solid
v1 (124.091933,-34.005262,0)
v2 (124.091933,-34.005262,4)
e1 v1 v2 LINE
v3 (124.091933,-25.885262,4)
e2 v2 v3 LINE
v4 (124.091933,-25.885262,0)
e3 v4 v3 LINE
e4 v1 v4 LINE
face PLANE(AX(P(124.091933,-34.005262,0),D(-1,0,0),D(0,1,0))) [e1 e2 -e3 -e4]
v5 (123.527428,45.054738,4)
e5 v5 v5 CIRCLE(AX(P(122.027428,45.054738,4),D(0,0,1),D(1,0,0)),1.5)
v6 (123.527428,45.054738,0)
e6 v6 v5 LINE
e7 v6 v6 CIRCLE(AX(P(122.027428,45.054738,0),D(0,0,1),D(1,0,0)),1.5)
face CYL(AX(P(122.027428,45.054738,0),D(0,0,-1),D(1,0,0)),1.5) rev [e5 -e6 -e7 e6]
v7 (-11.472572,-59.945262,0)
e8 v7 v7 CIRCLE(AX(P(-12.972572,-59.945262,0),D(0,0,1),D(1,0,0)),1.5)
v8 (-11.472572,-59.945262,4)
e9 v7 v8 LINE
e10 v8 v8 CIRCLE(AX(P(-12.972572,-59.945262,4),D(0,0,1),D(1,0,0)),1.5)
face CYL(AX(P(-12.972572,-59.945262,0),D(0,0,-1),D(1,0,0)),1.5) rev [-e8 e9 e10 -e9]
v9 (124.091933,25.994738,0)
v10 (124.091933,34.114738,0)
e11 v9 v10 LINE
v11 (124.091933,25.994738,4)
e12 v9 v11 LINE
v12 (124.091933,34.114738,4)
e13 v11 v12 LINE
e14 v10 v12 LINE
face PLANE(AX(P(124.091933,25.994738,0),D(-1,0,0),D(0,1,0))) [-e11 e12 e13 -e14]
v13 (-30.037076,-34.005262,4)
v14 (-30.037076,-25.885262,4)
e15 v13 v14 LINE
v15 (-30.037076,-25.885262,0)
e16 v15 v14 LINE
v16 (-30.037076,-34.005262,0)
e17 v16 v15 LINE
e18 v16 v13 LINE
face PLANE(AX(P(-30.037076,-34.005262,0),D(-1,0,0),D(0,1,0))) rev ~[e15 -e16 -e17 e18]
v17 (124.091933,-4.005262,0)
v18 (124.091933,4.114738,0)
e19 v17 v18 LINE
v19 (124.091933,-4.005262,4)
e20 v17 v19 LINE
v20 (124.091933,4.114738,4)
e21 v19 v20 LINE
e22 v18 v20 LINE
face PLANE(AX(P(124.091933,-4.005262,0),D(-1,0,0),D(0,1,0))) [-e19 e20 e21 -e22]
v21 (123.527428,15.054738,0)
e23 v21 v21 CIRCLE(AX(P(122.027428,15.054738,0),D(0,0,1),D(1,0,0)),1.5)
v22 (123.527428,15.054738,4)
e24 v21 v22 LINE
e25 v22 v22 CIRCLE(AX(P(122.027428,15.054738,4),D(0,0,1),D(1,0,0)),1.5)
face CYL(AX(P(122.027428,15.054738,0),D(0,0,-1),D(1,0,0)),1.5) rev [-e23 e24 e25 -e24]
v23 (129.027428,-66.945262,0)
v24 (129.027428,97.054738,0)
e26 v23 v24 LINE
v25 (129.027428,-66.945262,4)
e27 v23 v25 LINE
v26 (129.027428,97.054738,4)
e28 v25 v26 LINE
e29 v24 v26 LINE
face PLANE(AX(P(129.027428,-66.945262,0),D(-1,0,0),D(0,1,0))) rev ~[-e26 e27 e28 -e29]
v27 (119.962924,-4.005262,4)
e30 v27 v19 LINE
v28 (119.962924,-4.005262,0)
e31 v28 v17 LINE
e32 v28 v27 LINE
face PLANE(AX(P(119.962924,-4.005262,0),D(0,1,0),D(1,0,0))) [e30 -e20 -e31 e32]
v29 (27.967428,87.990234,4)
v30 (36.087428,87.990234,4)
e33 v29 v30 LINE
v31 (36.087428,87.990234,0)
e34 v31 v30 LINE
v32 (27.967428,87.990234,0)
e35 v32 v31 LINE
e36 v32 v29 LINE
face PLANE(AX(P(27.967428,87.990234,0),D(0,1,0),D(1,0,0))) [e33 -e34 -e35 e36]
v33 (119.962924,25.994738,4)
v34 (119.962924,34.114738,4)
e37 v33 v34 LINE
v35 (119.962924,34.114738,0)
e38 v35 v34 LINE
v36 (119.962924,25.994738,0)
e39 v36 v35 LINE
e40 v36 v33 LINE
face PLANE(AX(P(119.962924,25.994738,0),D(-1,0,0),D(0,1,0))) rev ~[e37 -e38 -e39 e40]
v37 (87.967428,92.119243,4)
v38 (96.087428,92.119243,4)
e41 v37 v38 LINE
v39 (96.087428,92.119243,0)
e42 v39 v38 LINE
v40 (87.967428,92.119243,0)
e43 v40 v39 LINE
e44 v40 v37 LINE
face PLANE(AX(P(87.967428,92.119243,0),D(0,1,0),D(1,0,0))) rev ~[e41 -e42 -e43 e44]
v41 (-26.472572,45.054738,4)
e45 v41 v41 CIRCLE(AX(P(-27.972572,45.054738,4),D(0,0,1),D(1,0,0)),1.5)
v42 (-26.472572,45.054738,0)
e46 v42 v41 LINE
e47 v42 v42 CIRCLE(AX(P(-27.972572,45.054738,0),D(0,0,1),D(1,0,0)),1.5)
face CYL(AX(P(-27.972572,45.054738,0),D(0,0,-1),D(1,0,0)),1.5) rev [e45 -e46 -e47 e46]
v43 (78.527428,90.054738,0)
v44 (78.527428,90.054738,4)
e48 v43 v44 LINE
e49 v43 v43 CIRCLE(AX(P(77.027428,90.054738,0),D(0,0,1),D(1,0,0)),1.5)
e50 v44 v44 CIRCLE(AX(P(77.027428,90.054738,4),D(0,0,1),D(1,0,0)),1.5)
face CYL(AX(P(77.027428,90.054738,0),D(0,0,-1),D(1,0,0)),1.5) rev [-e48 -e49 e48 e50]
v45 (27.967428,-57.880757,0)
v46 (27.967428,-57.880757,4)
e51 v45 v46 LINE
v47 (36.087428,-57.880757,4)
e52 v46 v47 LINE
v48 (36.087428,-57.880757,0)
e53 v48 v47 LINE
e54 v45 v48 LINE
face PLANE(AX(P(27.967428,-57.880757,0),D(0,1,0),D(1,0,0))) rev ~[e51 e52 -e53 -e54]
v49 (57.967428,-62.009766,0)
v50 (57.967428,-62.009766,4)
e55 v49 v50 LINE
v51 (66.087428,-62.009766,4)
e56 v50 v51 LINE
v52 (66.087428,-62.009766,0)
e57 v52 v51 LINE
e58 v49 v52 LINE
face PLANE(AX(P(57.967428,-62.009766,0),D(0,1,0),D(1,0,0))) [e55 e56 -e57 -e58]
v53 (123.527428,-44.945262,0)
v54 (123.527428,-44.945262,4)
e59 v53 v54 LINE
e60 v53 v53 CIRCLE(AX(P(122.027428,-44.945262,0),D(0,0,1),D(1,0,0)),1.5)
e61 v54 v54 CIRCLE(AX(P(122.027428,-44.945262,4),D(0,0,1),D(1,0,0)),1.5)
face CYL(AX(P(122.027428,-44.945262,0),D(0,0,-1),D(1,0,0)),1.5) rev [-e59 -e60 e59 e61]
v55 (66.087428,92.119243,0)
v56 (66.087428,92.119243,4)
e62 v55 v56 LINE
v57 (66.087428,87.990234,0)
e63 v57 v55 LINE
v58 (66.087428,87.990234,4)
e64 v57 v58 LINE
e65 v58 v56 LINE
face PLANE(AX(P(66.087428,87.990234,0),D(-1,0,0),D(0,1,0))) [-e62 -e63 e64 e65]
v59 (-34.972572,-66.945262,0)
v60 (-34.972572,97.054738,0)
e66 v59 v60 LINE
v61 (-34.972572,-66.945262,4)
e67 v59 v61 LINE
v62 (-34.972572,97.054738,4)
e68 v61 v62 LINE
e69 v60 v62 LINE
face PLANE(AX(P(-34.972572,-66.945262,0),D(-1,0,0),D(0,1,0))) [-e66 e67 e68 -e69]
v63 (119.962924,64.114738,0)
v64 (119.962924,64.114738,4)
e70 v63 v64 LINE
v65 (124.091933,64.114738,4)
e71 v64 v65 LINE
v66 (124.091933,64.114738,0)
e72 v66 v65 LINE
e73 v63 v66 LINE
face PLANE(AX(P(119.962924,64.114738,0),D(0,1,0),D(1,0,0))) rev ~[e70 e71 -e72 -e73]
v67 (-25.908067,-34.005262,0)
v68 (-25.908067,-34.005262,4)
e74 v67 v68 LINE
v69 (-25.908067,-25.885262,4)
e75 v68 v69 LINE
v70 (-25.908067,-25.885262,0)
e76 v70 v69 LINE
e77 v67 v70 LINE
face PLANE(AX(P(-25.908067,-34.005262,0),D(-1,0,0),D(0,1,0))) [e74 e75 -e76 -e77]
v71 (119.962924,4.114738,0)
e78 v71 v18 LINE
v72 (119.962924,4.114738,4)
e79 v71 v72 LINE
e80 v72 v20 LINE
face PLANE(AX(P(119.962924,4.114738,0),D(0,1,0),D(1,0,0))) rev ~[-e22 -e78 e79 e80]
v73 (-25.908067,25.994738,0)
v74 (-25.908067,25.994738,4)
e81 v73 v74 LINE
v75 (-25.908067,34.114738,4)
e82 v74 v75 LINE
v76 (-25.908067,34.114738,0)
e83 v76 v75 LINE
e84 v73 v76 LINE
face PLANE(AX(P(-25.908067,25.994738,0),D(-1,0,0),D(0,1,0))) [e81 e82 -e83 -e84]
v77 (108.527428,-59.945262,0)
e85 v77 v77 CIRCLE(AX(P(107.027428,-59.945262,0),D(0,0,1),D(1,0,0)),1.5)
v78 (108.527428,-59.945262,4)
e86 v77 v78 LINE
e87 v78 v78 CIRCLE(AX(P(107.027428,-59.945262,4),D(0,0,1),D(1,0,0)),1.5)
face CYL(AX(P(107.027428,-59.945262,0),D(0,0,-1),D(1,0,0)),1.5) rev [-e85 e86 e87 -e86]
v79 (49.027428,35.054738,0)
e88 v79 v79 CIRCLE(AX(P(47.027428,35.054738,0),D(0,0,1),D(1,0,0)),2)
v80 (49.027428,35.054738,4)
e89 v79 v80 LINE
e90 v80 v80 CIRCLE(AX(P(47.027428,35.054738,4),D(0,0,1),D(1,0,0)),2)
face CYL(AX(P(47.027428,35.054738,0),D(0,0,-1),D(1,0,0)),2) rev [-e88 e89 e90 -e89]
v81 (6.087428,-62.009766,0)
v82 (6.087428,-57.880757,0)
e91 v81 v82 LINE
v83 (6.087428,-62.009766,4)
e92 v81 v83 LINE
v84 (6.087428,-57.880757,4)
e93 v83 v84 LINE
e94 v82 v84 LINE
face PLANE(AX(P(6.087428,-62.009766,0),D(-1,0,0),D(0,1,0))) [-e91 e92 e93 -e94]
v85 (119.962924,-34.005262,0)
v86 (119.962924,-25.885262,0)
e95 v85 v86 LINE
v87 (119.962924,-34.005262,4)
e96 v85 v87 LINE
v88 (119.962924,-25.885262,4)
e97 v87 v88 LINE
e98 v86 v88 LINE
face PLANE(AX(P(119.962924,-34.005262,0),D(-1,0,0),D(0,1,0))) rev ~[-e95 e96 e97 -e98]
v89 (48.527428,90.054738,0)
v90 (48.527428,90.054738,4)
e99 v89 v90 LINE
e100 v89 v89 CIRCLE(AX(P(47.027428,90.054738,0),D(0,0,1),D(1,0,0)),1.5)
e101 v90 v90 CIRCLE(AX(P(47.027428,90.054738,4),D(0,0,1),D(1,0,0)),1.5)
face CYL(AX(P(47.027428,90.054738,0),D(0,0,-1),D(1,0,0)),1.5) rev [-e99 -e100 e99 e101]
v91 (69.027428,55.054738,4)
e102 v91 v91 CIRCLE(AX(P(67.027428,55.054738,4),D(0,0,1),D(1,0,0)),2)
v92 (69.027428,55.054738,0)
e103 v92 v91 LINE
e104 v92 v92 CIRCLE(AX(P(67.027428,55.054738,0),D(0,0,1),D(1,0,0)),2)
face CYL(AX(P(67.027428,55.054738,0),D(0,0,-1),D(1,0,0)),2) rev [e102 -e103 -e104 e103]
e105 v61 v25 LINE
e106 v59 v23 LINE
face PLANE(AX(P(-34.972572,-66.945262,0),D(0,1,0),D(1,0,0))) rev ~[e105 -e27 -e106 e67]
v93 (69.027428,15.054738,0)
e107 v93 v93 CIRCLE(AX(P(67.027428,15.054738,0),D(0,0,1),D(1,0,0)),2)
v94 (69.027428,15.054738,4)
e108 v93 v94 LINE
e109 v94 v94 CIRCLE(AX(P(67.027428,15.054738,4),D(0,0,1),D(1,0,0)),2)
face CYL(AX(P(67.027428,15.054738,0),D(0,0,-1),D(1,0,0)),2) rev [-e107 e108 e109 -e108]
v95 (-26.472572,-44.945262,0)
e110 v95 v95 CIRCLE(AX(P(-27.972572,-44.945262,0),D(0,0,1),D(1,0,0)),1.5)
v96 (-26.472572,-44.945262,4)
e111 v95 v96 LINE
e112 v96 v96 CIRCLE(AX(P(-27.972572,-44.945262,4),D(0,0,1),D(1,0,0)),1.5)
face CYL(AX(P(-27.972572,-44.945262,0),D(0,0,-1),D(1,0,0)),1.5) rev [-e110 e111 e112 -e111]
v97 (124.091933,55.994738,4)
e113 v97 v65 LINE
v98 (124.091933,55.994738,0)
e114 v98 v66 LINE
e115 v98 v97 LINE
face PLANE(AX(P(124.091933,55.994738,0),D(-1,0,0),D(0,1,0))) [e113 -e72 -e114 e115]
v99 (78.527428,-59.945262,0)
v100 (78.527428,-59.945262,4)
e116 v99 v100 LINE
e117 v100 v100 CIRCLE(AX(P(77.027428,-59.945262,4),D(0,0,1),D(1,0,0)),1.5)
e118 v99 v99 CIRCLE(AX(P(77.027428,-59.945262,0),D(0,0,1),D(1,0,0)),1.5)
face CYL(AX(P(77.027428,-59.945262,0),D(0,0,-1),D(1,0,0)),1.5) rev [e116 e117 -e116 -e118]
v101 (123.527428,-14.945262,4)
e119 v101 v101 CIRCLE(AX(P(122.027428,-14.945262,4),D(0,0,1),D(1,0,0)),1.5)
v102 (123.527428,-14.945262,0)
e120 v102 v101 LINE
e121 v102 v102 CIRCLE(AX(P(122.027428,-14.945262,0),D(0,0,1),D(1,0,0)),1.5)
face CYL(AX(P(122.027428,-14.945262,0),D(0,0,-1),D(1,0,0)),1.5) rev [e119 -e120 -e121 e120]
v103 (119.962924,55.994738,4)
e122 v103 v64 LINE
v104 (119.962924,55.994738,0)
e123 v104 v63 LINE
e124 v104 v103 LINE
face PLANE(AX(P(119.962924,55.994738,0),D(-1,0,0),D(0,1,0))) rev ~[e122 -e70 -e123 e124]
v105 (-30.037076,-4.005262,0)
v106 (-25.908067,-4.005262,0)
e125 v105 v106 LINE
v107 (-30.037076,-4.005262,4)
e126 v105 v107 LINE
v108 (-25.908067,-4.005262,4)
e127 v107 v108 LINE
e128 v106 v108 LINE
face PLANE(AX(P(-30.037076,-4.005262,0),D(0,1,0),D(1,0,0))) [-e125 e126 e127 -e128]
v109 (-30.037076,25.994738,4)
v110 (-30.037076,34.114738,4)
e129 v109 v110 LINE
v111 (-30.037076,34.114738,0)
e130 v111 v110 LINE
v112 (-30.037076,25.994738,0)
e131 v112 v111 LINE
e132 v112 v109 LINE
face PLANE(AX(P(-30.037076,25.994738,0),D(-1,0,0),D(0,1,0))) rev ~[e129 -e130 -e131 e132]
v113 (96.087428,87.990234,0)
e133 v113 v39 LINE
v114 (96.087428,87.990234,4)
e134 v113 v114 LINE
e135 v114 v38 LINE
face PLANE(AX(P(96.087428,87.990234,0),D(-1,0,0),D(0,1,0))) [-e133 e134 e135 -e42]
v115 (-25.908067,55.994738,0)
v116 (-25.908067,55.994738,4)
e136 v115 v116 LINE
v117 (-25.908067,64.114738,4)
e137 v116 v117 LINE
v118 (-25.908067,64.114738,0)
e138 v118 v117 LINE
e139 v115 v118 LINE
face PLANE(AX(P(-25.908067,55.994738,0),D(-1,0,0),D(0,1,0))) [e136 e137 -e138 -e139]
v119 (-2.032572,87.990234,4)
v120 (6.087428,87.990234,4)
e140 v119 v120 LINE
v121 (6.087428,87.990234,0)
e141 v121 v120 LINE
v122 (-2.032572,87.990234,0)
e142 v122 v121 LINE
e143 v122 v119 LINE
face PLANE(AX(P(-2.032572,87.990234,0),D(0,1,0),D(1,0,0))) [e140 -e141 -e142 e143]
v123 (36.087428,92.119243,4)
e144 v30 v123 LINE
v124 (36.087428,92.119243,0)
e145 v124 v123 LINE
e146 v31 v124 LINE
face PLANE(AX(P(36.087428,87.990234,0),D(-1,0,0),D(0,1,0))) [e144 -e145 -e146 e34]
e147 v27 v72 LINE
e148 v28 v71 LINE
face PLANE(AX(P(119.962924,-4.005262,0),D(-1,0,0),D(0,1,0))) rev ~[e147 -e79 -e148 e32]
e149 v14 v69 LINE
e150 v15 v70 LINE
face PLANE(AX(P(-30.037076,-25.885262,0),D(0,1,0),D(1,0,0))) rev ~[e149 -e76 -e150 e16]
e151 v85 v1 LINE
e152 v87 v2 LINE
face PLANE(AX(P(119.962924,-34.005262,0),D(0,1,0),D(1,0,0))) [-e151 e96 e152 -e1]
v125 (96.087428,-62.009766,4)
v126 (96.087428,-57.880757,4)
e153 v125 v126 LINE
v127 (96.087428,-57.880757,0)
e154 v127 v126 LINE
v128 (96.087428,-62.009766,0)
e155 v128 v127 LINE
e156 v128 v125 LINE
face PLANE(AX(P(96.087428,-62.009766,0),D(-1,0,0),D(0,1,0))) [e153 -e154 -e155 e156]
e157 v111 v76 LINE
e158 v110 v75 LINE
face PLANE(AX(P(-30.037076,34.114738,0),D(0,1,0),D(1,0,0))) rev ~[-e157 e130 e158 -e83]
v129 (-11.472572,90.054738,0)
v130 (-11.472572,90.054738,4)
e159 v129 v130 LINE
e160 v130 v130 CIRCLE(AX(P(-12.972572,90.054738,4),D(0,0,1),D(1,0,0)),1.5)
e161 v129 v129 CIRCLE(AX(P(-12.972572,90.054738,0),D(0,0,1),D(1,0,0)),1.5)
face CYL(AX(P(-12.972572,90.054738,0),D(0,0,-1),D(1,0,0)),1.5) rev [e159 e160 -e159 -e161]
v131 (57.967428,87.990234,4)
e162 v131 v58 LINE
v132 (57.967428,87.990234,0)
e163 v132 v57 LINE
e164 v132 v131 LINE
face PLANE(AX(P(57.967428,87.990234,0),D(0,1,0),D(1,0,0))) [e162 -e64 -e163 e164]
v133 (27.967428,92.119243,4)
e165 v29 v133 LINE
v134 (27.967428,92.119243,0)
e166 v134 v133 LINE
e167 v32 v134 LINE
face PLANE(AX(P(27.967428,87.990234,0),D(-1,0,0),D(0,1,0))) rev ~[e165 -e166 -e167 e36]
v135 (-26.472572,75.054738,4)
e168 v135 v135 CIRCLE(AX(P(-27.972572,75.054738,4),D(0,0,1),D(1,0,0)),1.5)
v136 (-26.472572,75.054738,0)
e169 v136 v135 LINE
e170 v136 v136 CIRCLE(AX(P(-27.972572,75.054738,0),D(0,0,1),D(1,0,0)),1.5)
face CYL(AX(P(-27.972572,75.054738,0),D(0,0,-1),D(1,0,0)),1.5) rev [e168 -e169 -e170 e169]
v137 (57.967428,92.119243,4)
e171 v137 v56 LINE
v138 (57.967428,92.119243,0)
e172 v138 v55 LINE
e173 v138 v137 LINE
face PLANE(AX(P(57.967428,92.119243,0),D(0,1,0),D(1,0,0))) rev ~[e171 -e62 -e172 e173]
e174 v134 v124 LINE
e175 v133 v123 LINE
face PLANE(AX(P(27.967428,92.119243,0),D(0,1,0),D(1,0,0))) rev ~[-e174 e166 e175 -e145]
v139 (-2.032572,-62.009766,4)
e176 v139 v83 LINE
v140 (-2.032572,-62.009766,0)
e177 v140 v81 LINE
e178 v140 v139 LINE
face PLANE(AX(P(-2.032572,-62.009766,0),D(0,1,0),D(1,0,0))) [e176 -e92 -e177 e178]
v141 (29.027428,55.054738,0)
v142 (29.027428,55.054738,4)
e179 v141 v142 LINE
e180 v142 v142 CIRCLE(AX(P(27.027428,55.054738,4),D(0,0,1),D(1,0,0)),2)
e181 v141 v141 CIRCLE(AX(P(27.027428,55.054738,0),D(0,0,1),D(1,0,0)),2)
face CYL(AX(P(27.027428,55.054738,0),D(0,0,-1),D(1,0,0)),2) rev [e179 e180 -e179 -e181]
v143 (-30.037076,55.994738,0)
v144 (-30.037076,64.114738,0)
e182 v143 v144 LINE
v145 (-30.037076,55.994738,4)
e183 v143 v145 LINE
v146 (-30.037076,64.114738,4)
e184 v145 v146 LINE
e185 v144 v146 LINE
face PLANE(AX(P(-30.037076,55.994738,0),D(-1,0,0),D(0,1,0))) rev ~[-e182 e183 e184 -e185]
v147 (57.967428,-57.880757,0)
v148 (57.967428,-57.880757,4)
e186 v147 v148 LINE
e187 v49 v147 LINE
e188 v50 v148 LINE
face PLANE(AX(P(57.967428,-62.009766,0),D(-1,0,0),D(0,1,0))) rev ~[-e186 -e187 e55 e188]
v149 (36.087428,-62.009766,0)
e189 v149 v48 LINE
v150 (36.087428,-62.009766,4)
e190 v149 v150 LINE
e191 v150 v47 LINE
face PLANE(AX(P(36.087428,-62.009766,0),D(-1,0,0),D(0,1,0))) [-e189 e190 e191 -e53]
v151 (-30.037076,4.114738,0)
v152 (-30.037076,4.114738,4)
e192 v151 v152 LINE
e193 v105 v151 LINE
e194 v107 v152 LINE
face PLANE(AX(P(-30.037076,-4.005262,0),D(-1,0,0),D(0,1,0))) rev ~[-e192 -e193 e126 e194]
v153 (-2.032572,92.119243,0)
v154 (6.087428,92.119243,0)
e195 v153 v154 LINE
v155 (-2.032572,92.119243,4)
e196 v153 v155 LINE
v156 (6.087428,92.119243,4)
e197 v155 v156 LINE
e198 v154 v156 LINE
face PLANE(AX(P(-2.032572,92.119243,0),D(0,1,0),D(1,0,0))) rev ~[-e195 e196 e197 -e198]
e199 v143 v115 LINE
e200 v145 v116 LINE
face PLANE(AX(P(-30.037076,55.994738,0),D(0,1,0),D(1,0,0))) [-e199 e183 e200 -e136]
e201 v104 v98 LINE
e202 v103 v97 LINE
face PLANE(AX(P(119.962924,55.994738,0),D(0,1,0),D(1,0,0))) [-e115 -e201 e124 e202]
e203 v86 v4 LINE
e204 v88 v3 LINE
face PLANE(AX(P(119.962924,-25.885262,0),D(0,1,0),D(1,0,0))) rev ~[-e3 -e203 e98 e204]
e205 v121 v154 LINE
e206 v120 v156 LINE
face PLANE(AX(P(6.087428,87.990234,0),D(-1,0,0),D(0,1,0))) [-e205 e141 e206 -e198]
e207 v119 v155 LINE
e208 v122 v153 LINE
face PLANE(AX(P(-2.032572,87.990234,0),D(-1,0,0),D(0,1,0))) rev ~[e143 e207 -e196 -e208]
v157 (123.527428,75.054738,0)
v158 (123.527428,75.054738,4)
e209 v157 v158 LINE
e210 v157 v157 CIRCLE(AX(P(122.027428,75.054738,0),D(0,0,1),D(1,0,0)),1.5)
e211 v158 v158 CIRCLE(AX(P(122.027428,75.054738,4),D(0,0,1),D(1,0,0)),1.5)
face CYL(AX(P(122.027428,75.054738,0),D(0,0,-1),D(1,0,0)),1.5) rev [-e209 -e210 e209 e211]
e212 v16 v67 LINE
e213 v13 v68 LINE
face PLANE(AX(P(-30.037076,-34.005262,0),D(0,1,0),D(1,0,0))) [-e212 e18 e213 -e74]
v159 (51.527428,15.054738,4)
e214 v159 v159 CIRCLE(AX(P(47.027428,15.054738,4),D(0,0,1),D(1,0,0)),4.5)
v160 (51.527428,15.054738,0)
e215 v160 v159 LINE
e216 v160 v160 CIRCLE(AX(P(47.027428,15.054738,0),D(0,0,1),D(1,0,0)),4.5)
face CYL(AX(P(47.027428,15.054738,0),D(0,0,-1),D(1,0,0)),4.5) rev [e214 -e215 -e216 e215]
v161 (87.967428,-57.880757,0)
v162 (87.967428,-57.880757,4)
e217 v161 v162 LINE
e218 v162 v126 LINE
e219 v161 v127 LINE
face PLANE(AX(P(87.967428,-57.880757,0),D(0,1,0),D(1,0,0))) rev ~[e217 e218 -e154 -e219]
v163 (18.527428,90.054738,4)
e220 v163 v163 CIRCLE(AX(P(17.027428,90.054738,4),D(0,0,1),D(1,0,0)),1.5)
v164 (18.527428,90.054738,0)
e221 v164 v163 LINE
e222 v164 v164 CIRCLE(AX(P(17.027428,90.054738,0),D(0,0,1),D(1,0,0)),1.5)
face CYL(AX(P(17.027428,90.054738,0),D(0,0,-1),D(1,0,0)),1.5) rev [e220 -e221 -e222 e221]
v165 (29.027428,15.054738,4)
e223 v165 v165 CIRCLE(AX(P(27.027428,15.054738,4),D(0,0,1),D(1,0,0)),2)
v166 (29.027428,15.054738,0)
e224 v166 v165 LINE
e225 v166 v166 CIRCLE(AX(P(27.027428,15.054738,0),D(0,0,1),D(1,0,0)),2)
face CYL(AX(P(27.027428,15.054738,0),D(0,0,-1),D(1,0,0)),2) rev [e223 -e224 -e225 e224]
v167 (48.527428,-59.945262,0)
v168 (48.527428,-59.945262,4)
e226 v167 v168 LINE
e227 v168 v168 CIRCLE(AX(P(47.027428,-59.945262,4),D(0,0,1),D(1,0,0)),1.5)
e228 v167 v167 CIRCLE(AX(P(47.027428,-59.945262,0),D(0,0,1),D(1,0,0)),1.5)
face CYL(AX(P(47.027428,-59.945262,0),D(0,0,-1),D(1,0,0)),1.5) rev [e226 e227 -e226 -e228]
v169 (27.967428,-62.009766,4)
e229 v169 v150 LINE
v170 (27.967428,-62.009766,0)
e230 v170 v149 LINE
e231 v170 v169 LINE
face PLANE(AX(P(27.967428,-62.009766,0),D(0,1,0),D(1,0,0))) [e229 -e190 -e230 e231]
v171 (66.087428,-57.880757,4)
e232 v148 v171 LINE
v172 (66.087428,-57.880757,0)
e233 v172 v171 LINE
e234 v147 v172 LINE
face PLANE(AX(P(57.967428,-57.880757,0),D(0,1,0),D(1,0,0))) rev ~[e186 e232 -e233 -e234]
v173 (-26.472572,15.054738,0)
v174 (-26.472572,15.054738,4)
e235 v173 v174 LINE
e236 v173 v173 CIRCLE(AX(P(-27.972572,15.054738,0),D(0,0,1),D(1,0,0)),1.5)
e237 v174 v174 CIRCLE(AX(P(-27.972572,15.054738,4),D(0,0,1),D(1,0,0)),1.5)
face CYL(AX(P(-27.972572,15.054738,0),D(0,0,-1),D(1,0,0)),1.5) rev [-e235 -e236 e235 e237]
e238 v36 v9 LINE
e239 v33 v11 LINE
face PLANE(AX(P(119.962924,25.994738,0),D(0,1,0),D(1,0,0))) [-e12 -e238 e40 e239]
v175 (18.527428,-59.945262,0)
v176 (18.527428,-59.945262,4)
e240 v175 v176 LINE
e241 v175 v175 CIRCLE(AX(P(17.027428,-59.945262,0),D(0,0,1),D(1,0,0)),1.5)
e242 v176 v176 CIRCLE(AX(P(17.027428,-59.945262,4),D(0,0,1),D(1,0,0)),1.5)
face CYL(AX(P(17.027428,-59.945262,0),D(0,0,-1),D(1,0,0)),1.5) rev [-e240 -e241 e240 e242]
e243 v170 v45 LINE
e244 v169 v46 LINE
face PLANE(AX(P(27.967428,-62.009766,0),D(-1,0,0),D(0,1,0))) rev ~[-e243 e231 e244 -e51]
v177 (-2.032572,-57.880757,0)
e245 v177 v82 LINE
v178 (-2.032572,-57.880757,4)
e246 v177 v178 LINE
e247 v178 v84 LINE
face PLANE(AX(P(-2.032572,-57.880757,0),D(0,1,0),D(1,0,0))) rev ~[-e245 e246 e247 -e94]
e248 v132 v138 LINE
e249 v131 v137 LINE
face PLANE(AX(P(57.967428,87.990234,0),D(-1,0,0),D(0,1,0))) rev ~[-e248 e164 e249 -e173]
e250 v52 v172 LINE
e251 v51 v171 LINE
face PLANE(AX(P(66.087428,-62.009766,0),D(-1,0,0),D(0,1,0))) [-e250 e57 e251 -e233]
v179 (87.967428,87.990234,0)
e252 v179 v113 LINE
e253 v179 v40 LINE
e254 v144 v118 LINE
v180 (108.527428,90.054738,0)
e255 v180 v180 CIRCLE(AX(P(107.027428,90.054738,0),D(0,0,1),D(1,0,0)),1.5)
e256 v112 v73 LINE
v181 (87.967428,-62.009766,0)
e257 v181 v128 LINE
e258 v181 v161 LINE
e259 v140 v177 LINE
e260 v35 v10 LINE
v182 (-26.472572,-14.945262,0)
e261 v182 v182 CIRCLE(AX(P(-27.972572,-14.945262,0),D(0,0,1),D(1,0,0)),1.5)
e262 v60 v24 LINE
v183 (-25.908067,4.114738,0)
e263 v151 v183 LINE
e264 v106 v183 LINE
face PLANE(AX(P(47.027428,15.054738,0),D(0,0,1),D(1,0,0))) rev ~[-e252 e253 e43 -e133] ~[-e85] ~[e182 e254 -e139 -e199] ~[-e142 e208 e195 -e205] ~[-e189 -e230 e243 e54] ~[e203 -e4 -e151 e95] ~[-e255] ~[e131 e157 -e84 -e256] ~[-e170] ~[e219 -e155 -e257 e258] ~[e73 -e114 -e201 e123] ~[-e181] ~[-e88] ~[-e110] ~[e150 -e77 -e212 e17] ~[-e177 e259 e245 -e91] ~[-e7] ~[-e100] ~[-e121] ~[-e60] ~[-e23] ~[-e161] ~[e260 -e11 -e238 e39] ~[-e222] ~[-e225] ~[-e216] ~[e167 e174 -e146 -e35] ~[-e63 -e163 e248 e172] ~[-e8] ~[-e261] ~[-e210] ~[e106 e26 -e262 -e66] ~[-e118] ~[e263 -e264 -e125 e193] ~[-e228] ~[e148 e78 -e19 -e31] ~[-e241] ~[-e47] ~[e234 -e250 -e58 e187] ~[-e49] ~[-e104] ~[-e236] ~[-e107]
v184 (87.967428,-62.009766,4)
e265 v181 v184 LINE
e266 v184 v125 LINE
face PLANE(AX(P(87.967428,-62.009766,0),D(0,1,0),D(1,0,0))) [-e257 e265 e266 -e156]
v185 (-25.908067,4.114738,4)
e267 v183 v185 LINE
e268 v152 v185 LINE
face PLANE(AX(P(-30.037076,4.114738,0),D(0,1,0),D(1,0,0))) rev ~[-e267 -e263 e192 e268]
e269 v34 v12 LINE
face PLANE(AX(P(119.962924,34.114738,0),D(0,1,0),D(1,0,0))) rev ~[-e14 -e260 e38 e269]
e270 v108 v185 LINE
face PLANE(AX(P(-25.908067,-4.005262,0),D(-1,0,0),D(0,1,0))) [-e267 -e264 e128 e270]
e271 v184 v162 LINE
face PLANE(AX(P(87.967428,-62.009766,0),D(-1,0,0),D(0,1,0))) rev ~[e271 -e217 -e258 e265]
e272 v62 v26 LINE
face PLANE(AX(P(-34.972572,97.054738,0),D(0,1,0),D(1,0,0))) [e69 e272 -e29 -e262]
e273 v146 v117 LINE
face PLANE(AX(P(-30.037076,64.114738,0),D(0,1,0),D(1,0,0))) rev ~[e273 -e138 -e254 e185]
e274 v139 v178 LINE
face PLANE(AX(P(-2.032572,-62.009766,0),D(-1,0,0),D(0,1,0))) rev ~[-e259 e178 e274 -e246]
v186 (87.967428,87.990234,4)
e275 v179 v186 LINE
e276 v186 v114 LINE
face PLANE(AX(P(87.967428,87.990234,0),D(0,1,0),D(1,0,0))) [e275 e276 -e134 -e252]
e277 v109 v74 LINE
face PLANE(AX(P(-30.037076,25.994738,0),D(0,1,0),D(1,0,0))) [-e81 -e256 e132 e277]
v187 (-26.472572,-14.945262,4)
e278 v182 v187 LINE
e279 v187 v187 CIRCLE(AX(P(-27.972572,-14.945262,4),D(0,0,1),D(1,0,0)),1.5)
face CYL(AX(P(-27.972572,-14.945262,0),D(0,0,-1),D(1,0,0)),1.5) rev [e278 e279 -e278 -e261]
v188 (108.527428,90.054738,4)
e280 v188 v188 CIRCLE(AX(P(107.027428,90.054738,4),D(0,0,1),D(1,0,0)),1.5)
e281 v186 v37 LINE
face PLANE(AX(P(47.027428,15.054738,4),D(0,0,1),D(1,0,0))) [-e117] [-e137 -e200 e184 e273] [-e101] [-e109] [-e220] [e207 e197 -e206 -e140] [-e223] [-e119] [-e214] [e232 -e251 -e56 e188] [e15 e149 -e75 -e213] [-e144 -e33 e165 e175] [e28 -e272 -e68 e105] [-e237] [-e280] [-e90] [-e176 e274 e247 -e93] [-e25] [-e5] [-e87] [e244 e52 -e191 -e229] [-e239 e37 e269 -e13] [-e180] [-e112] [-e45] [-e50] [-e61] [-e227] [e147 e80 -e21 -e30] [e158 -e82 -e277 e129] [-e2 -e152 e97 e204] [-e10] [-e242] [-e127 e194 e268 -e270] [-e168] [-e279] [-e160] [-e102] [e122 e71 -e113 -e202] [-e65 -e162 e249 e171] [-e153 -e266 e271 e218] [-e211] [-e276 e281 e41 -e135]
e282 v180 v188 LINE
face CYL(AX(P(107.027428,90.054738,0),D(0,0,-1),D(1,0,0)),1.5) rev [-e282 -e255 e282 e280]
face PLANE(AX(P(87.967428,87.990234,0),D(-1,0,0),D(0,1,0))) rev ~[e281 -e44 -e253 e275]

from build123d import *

# Parameters (mm, degrees)
SKETCH_1_W      = 164
SKETCH_1_H      = 164
SKETCH_1_R      = 1.5
SKETCH_1_R_2    = 4.5
SKETCH_1_R_3    = 2
SKETCH_1_W_2    = 8.12
SKETCH_1_H_2    = 4.129008776
SKETCH_1_W_3    = 4.129008777
SKETCH_1_H_3    = 8.12
EXTRUDE_1_DEPTH = 4


with BuildPart() as part:
    # 草图1 → 凸台-拉伸1 (new body)
    with BuildSketch(Plane.XY):
        with Locations((47.027428163, 15.054738201)):
            Rectangle(SKETCH_1_W, SKETCH_1_H)
        with Locations((47.027428163, 90.054738201)):
            Circle(SKETCH_1_R, mode=Mode.SUBTRACT)
        with Locations((47.027428163, 15.054738201)):
            Circle(SKETCH_1_R_2, mode=Mode.SUBTRACT)
        with Locations((77.027428163, 90.054738201)):
            Circle(SKETCH_1_R, mode=Mode.SUBTRACT)
        with Locations((107.027428163, 90.054738201)):
            Circle(SKETCH_1_R, mode=Mode.SUBTRACT)
        with Locations((-12.972571837, 90.054738201)):
            Circle(SKETCH_1_R, mode=Mode.SUBTRACT)
        with Locations((67.027428163, 15.054738201)):
            Circle(SKETCH_1_R_3, mode=Mode.SUBTRACT)
        with Locations((17.027428163, 90.054738201)):
            Circle(SKETCH_1_R, mode=Mode.SUBTRACT)
        with Locations((122.027428163, 15.054738201)):
            Circle(SKETCH_1_R, mode=Mode.SUBTRACT)
        with Locations((122.027428163, -14.945261799)):
            Circle(SKETCH_1_R, mode=Mode.SUBTRACT)
        with Locations((122.027428163, -44.945261799)):
            Circle(SKETCH_1_R, mode=Mode.SUBTRACT)
        with Locations((122.027428163, 75.054738201)):
            Circle(SKETCH_1_R, mode=Mode.SUBTRACT)
        with Locations((67.027428163, 55.054738201)):
            Circle(SKETCH_1_R_3, mode=Mode.SUBTRACT)
        with Locations((122.027428163, 45.054738201)):
            Circle(SKETCH_1_R, mode=Mode.SUBTRACT)
        with Locations((47.027428163, -59.945261799)):
            Circle(SKETCH_1_R, mode=Mode.SUBTRACT)
        with Locations((17.027428163, -59.945261799)):
            Circle(SKETCH_1_R, mode=Mode.SUBTRACT)
        with Locations((-12.972571837, -59.945261799)):
            Circle(SKETCH_1_R, mode=Mode.SUBTRACT)
        with Locations((107.027428163, -59.945261799)):
            Circle(SKETCH_1_R, mode=Mode.SUBTRACT)
        with Locations((77.027428163, -59.945261799)):
            Circle(SKETCH_1_R, mode=Mode.SUBTRACT)
        with Locations((-27.972571837, 15.054738201)):
            Circle(SKETCH_1_R, mode=Mode.SUBTRACT)
        with Locations((-27.972571837, 45.054738201)):
            Circle(SKETCH_1_R, mode=Mode.SUBTRACT)
        with Locations((-27.972571837, 75.054738201)):
            Circle(SKETCH_1_R, mode=Mode.SUBTRACT)
        with Locations((-27.972571837, -44.945261799)):
            Circle(SKETCH_1_R, mode=Mode.SUBTRACT)
        with Locations((-27.972571837, -14.945261799)):
            Circle(SKETCH_1_R, mode=Mode.SUBTRACT)
        with Locations((27.027428163, 55.054738201)):
            Circle(SKETCH_1_R_3, mode=Mode.SUBTRACT)
        with Locations((27.027428163, 15.054738201)):
            Circle(SKETCH_1_R_3, mode=Mode.SUBTRACT)
        with Locations((47.027428163, 35.054738201)):
            Circle(SKETCH_1_R_3, mode=Mode.SUBTRACT)
        with Locations((62.027428163, 90.054738201)):
            Rectangle(SKETCH_1_W_2, SKETCH_1_H_2, mode=Mode.SUBTRACT)
        with Locations((92.027428163, 90.054738201)):
            Rectangle(SKETCH_1_W_2, SKETCH_1_H_2, mode=Mode.SUBTRACT)
        with Locations((2.027428163, 90.054738201)):
            Rectangle(SKETCH_1_W_2, SKETCH_1_H_2, mode=Mode.SUBTRACT)
        with Locations((32.027428163, 90.054738201)):
            Rectangle(SKETCH_1_W_2, SKETCH_1_H_2, mode=Mode.SUBTRACT)
        with Locations((122.027428164, 0.054738201)):
            Rectangle(SKETCH_1_W_3, SKETCH_1_H_3, mode=Mode.SUBTRACT)
        with Locations((122.027428164, -29.945261799)):
            Rectangle(SKETCH_1_W_3, SKETCH_1_H_3, mode=Mode.SUBTRACT)
        with Locations((122.027428164, 60.054738201)):
            Rectangle(SKETCH_1_W_3, SKETCH_1_H_3, mode=Mode.SUBTRACT)
        with Locations((122.027428164, 30.054738201)):
            Rectangle(SKETCH_1_W_3, SKETCH_1_H_3, mode=Mode.SUBTRACT)
        with Locations((32.027428163, -59.945261799)):
            Rectangle(SKETCH_1_W_2, SKETCH_1_H_2, mode=Mode.SUBTRACT)
        with Locations((2.027428163, -59.945261799)):
            Rectangle(SKETCH_1_W_2, SKETCH_1_H_2, mode=Mode.SUBTRACT)
        with Locations((92.027428163, -59.945261799)):
            Rectangle(SKETCH_1_W_2, SKETCH_1_H_2, mode=Mode.SUBTRACT)
        with Locations((62.027428163, -59.945261799)):
            Rectangle(SKETCH_1_W_2, SKETCH_1_H_2, mode=Mode.SUBTRACT)
        with Locations((-27.972571837, 30.054738201)):
            Rectangle(SKETCH_1_W_3, SKETCH_1_H_3, mode=Mode.SUBTRACT)
        with Locations((-27.972571837, 60.054738201)):
            Rectangle(SKETCH_1_W_3, SKETCH_1_H_3, mode=Mode.SUBTRACT)
        with Locations((-27.972571837, -29.945261799)):
            Rectangle(SKETCH_1_W_3, SKETCH_1_H_3, mode=Mode.SUBTRACT)
        with Locations((-27.972571837, 0.054738201)):
            Rectangle(SKETCH_1_W_3, SKETCH_1_H_3, mode=Mode.SUBTRACT)
    extrude(amount=EXTRUDE_1_DEPTH)


solid = part.part
